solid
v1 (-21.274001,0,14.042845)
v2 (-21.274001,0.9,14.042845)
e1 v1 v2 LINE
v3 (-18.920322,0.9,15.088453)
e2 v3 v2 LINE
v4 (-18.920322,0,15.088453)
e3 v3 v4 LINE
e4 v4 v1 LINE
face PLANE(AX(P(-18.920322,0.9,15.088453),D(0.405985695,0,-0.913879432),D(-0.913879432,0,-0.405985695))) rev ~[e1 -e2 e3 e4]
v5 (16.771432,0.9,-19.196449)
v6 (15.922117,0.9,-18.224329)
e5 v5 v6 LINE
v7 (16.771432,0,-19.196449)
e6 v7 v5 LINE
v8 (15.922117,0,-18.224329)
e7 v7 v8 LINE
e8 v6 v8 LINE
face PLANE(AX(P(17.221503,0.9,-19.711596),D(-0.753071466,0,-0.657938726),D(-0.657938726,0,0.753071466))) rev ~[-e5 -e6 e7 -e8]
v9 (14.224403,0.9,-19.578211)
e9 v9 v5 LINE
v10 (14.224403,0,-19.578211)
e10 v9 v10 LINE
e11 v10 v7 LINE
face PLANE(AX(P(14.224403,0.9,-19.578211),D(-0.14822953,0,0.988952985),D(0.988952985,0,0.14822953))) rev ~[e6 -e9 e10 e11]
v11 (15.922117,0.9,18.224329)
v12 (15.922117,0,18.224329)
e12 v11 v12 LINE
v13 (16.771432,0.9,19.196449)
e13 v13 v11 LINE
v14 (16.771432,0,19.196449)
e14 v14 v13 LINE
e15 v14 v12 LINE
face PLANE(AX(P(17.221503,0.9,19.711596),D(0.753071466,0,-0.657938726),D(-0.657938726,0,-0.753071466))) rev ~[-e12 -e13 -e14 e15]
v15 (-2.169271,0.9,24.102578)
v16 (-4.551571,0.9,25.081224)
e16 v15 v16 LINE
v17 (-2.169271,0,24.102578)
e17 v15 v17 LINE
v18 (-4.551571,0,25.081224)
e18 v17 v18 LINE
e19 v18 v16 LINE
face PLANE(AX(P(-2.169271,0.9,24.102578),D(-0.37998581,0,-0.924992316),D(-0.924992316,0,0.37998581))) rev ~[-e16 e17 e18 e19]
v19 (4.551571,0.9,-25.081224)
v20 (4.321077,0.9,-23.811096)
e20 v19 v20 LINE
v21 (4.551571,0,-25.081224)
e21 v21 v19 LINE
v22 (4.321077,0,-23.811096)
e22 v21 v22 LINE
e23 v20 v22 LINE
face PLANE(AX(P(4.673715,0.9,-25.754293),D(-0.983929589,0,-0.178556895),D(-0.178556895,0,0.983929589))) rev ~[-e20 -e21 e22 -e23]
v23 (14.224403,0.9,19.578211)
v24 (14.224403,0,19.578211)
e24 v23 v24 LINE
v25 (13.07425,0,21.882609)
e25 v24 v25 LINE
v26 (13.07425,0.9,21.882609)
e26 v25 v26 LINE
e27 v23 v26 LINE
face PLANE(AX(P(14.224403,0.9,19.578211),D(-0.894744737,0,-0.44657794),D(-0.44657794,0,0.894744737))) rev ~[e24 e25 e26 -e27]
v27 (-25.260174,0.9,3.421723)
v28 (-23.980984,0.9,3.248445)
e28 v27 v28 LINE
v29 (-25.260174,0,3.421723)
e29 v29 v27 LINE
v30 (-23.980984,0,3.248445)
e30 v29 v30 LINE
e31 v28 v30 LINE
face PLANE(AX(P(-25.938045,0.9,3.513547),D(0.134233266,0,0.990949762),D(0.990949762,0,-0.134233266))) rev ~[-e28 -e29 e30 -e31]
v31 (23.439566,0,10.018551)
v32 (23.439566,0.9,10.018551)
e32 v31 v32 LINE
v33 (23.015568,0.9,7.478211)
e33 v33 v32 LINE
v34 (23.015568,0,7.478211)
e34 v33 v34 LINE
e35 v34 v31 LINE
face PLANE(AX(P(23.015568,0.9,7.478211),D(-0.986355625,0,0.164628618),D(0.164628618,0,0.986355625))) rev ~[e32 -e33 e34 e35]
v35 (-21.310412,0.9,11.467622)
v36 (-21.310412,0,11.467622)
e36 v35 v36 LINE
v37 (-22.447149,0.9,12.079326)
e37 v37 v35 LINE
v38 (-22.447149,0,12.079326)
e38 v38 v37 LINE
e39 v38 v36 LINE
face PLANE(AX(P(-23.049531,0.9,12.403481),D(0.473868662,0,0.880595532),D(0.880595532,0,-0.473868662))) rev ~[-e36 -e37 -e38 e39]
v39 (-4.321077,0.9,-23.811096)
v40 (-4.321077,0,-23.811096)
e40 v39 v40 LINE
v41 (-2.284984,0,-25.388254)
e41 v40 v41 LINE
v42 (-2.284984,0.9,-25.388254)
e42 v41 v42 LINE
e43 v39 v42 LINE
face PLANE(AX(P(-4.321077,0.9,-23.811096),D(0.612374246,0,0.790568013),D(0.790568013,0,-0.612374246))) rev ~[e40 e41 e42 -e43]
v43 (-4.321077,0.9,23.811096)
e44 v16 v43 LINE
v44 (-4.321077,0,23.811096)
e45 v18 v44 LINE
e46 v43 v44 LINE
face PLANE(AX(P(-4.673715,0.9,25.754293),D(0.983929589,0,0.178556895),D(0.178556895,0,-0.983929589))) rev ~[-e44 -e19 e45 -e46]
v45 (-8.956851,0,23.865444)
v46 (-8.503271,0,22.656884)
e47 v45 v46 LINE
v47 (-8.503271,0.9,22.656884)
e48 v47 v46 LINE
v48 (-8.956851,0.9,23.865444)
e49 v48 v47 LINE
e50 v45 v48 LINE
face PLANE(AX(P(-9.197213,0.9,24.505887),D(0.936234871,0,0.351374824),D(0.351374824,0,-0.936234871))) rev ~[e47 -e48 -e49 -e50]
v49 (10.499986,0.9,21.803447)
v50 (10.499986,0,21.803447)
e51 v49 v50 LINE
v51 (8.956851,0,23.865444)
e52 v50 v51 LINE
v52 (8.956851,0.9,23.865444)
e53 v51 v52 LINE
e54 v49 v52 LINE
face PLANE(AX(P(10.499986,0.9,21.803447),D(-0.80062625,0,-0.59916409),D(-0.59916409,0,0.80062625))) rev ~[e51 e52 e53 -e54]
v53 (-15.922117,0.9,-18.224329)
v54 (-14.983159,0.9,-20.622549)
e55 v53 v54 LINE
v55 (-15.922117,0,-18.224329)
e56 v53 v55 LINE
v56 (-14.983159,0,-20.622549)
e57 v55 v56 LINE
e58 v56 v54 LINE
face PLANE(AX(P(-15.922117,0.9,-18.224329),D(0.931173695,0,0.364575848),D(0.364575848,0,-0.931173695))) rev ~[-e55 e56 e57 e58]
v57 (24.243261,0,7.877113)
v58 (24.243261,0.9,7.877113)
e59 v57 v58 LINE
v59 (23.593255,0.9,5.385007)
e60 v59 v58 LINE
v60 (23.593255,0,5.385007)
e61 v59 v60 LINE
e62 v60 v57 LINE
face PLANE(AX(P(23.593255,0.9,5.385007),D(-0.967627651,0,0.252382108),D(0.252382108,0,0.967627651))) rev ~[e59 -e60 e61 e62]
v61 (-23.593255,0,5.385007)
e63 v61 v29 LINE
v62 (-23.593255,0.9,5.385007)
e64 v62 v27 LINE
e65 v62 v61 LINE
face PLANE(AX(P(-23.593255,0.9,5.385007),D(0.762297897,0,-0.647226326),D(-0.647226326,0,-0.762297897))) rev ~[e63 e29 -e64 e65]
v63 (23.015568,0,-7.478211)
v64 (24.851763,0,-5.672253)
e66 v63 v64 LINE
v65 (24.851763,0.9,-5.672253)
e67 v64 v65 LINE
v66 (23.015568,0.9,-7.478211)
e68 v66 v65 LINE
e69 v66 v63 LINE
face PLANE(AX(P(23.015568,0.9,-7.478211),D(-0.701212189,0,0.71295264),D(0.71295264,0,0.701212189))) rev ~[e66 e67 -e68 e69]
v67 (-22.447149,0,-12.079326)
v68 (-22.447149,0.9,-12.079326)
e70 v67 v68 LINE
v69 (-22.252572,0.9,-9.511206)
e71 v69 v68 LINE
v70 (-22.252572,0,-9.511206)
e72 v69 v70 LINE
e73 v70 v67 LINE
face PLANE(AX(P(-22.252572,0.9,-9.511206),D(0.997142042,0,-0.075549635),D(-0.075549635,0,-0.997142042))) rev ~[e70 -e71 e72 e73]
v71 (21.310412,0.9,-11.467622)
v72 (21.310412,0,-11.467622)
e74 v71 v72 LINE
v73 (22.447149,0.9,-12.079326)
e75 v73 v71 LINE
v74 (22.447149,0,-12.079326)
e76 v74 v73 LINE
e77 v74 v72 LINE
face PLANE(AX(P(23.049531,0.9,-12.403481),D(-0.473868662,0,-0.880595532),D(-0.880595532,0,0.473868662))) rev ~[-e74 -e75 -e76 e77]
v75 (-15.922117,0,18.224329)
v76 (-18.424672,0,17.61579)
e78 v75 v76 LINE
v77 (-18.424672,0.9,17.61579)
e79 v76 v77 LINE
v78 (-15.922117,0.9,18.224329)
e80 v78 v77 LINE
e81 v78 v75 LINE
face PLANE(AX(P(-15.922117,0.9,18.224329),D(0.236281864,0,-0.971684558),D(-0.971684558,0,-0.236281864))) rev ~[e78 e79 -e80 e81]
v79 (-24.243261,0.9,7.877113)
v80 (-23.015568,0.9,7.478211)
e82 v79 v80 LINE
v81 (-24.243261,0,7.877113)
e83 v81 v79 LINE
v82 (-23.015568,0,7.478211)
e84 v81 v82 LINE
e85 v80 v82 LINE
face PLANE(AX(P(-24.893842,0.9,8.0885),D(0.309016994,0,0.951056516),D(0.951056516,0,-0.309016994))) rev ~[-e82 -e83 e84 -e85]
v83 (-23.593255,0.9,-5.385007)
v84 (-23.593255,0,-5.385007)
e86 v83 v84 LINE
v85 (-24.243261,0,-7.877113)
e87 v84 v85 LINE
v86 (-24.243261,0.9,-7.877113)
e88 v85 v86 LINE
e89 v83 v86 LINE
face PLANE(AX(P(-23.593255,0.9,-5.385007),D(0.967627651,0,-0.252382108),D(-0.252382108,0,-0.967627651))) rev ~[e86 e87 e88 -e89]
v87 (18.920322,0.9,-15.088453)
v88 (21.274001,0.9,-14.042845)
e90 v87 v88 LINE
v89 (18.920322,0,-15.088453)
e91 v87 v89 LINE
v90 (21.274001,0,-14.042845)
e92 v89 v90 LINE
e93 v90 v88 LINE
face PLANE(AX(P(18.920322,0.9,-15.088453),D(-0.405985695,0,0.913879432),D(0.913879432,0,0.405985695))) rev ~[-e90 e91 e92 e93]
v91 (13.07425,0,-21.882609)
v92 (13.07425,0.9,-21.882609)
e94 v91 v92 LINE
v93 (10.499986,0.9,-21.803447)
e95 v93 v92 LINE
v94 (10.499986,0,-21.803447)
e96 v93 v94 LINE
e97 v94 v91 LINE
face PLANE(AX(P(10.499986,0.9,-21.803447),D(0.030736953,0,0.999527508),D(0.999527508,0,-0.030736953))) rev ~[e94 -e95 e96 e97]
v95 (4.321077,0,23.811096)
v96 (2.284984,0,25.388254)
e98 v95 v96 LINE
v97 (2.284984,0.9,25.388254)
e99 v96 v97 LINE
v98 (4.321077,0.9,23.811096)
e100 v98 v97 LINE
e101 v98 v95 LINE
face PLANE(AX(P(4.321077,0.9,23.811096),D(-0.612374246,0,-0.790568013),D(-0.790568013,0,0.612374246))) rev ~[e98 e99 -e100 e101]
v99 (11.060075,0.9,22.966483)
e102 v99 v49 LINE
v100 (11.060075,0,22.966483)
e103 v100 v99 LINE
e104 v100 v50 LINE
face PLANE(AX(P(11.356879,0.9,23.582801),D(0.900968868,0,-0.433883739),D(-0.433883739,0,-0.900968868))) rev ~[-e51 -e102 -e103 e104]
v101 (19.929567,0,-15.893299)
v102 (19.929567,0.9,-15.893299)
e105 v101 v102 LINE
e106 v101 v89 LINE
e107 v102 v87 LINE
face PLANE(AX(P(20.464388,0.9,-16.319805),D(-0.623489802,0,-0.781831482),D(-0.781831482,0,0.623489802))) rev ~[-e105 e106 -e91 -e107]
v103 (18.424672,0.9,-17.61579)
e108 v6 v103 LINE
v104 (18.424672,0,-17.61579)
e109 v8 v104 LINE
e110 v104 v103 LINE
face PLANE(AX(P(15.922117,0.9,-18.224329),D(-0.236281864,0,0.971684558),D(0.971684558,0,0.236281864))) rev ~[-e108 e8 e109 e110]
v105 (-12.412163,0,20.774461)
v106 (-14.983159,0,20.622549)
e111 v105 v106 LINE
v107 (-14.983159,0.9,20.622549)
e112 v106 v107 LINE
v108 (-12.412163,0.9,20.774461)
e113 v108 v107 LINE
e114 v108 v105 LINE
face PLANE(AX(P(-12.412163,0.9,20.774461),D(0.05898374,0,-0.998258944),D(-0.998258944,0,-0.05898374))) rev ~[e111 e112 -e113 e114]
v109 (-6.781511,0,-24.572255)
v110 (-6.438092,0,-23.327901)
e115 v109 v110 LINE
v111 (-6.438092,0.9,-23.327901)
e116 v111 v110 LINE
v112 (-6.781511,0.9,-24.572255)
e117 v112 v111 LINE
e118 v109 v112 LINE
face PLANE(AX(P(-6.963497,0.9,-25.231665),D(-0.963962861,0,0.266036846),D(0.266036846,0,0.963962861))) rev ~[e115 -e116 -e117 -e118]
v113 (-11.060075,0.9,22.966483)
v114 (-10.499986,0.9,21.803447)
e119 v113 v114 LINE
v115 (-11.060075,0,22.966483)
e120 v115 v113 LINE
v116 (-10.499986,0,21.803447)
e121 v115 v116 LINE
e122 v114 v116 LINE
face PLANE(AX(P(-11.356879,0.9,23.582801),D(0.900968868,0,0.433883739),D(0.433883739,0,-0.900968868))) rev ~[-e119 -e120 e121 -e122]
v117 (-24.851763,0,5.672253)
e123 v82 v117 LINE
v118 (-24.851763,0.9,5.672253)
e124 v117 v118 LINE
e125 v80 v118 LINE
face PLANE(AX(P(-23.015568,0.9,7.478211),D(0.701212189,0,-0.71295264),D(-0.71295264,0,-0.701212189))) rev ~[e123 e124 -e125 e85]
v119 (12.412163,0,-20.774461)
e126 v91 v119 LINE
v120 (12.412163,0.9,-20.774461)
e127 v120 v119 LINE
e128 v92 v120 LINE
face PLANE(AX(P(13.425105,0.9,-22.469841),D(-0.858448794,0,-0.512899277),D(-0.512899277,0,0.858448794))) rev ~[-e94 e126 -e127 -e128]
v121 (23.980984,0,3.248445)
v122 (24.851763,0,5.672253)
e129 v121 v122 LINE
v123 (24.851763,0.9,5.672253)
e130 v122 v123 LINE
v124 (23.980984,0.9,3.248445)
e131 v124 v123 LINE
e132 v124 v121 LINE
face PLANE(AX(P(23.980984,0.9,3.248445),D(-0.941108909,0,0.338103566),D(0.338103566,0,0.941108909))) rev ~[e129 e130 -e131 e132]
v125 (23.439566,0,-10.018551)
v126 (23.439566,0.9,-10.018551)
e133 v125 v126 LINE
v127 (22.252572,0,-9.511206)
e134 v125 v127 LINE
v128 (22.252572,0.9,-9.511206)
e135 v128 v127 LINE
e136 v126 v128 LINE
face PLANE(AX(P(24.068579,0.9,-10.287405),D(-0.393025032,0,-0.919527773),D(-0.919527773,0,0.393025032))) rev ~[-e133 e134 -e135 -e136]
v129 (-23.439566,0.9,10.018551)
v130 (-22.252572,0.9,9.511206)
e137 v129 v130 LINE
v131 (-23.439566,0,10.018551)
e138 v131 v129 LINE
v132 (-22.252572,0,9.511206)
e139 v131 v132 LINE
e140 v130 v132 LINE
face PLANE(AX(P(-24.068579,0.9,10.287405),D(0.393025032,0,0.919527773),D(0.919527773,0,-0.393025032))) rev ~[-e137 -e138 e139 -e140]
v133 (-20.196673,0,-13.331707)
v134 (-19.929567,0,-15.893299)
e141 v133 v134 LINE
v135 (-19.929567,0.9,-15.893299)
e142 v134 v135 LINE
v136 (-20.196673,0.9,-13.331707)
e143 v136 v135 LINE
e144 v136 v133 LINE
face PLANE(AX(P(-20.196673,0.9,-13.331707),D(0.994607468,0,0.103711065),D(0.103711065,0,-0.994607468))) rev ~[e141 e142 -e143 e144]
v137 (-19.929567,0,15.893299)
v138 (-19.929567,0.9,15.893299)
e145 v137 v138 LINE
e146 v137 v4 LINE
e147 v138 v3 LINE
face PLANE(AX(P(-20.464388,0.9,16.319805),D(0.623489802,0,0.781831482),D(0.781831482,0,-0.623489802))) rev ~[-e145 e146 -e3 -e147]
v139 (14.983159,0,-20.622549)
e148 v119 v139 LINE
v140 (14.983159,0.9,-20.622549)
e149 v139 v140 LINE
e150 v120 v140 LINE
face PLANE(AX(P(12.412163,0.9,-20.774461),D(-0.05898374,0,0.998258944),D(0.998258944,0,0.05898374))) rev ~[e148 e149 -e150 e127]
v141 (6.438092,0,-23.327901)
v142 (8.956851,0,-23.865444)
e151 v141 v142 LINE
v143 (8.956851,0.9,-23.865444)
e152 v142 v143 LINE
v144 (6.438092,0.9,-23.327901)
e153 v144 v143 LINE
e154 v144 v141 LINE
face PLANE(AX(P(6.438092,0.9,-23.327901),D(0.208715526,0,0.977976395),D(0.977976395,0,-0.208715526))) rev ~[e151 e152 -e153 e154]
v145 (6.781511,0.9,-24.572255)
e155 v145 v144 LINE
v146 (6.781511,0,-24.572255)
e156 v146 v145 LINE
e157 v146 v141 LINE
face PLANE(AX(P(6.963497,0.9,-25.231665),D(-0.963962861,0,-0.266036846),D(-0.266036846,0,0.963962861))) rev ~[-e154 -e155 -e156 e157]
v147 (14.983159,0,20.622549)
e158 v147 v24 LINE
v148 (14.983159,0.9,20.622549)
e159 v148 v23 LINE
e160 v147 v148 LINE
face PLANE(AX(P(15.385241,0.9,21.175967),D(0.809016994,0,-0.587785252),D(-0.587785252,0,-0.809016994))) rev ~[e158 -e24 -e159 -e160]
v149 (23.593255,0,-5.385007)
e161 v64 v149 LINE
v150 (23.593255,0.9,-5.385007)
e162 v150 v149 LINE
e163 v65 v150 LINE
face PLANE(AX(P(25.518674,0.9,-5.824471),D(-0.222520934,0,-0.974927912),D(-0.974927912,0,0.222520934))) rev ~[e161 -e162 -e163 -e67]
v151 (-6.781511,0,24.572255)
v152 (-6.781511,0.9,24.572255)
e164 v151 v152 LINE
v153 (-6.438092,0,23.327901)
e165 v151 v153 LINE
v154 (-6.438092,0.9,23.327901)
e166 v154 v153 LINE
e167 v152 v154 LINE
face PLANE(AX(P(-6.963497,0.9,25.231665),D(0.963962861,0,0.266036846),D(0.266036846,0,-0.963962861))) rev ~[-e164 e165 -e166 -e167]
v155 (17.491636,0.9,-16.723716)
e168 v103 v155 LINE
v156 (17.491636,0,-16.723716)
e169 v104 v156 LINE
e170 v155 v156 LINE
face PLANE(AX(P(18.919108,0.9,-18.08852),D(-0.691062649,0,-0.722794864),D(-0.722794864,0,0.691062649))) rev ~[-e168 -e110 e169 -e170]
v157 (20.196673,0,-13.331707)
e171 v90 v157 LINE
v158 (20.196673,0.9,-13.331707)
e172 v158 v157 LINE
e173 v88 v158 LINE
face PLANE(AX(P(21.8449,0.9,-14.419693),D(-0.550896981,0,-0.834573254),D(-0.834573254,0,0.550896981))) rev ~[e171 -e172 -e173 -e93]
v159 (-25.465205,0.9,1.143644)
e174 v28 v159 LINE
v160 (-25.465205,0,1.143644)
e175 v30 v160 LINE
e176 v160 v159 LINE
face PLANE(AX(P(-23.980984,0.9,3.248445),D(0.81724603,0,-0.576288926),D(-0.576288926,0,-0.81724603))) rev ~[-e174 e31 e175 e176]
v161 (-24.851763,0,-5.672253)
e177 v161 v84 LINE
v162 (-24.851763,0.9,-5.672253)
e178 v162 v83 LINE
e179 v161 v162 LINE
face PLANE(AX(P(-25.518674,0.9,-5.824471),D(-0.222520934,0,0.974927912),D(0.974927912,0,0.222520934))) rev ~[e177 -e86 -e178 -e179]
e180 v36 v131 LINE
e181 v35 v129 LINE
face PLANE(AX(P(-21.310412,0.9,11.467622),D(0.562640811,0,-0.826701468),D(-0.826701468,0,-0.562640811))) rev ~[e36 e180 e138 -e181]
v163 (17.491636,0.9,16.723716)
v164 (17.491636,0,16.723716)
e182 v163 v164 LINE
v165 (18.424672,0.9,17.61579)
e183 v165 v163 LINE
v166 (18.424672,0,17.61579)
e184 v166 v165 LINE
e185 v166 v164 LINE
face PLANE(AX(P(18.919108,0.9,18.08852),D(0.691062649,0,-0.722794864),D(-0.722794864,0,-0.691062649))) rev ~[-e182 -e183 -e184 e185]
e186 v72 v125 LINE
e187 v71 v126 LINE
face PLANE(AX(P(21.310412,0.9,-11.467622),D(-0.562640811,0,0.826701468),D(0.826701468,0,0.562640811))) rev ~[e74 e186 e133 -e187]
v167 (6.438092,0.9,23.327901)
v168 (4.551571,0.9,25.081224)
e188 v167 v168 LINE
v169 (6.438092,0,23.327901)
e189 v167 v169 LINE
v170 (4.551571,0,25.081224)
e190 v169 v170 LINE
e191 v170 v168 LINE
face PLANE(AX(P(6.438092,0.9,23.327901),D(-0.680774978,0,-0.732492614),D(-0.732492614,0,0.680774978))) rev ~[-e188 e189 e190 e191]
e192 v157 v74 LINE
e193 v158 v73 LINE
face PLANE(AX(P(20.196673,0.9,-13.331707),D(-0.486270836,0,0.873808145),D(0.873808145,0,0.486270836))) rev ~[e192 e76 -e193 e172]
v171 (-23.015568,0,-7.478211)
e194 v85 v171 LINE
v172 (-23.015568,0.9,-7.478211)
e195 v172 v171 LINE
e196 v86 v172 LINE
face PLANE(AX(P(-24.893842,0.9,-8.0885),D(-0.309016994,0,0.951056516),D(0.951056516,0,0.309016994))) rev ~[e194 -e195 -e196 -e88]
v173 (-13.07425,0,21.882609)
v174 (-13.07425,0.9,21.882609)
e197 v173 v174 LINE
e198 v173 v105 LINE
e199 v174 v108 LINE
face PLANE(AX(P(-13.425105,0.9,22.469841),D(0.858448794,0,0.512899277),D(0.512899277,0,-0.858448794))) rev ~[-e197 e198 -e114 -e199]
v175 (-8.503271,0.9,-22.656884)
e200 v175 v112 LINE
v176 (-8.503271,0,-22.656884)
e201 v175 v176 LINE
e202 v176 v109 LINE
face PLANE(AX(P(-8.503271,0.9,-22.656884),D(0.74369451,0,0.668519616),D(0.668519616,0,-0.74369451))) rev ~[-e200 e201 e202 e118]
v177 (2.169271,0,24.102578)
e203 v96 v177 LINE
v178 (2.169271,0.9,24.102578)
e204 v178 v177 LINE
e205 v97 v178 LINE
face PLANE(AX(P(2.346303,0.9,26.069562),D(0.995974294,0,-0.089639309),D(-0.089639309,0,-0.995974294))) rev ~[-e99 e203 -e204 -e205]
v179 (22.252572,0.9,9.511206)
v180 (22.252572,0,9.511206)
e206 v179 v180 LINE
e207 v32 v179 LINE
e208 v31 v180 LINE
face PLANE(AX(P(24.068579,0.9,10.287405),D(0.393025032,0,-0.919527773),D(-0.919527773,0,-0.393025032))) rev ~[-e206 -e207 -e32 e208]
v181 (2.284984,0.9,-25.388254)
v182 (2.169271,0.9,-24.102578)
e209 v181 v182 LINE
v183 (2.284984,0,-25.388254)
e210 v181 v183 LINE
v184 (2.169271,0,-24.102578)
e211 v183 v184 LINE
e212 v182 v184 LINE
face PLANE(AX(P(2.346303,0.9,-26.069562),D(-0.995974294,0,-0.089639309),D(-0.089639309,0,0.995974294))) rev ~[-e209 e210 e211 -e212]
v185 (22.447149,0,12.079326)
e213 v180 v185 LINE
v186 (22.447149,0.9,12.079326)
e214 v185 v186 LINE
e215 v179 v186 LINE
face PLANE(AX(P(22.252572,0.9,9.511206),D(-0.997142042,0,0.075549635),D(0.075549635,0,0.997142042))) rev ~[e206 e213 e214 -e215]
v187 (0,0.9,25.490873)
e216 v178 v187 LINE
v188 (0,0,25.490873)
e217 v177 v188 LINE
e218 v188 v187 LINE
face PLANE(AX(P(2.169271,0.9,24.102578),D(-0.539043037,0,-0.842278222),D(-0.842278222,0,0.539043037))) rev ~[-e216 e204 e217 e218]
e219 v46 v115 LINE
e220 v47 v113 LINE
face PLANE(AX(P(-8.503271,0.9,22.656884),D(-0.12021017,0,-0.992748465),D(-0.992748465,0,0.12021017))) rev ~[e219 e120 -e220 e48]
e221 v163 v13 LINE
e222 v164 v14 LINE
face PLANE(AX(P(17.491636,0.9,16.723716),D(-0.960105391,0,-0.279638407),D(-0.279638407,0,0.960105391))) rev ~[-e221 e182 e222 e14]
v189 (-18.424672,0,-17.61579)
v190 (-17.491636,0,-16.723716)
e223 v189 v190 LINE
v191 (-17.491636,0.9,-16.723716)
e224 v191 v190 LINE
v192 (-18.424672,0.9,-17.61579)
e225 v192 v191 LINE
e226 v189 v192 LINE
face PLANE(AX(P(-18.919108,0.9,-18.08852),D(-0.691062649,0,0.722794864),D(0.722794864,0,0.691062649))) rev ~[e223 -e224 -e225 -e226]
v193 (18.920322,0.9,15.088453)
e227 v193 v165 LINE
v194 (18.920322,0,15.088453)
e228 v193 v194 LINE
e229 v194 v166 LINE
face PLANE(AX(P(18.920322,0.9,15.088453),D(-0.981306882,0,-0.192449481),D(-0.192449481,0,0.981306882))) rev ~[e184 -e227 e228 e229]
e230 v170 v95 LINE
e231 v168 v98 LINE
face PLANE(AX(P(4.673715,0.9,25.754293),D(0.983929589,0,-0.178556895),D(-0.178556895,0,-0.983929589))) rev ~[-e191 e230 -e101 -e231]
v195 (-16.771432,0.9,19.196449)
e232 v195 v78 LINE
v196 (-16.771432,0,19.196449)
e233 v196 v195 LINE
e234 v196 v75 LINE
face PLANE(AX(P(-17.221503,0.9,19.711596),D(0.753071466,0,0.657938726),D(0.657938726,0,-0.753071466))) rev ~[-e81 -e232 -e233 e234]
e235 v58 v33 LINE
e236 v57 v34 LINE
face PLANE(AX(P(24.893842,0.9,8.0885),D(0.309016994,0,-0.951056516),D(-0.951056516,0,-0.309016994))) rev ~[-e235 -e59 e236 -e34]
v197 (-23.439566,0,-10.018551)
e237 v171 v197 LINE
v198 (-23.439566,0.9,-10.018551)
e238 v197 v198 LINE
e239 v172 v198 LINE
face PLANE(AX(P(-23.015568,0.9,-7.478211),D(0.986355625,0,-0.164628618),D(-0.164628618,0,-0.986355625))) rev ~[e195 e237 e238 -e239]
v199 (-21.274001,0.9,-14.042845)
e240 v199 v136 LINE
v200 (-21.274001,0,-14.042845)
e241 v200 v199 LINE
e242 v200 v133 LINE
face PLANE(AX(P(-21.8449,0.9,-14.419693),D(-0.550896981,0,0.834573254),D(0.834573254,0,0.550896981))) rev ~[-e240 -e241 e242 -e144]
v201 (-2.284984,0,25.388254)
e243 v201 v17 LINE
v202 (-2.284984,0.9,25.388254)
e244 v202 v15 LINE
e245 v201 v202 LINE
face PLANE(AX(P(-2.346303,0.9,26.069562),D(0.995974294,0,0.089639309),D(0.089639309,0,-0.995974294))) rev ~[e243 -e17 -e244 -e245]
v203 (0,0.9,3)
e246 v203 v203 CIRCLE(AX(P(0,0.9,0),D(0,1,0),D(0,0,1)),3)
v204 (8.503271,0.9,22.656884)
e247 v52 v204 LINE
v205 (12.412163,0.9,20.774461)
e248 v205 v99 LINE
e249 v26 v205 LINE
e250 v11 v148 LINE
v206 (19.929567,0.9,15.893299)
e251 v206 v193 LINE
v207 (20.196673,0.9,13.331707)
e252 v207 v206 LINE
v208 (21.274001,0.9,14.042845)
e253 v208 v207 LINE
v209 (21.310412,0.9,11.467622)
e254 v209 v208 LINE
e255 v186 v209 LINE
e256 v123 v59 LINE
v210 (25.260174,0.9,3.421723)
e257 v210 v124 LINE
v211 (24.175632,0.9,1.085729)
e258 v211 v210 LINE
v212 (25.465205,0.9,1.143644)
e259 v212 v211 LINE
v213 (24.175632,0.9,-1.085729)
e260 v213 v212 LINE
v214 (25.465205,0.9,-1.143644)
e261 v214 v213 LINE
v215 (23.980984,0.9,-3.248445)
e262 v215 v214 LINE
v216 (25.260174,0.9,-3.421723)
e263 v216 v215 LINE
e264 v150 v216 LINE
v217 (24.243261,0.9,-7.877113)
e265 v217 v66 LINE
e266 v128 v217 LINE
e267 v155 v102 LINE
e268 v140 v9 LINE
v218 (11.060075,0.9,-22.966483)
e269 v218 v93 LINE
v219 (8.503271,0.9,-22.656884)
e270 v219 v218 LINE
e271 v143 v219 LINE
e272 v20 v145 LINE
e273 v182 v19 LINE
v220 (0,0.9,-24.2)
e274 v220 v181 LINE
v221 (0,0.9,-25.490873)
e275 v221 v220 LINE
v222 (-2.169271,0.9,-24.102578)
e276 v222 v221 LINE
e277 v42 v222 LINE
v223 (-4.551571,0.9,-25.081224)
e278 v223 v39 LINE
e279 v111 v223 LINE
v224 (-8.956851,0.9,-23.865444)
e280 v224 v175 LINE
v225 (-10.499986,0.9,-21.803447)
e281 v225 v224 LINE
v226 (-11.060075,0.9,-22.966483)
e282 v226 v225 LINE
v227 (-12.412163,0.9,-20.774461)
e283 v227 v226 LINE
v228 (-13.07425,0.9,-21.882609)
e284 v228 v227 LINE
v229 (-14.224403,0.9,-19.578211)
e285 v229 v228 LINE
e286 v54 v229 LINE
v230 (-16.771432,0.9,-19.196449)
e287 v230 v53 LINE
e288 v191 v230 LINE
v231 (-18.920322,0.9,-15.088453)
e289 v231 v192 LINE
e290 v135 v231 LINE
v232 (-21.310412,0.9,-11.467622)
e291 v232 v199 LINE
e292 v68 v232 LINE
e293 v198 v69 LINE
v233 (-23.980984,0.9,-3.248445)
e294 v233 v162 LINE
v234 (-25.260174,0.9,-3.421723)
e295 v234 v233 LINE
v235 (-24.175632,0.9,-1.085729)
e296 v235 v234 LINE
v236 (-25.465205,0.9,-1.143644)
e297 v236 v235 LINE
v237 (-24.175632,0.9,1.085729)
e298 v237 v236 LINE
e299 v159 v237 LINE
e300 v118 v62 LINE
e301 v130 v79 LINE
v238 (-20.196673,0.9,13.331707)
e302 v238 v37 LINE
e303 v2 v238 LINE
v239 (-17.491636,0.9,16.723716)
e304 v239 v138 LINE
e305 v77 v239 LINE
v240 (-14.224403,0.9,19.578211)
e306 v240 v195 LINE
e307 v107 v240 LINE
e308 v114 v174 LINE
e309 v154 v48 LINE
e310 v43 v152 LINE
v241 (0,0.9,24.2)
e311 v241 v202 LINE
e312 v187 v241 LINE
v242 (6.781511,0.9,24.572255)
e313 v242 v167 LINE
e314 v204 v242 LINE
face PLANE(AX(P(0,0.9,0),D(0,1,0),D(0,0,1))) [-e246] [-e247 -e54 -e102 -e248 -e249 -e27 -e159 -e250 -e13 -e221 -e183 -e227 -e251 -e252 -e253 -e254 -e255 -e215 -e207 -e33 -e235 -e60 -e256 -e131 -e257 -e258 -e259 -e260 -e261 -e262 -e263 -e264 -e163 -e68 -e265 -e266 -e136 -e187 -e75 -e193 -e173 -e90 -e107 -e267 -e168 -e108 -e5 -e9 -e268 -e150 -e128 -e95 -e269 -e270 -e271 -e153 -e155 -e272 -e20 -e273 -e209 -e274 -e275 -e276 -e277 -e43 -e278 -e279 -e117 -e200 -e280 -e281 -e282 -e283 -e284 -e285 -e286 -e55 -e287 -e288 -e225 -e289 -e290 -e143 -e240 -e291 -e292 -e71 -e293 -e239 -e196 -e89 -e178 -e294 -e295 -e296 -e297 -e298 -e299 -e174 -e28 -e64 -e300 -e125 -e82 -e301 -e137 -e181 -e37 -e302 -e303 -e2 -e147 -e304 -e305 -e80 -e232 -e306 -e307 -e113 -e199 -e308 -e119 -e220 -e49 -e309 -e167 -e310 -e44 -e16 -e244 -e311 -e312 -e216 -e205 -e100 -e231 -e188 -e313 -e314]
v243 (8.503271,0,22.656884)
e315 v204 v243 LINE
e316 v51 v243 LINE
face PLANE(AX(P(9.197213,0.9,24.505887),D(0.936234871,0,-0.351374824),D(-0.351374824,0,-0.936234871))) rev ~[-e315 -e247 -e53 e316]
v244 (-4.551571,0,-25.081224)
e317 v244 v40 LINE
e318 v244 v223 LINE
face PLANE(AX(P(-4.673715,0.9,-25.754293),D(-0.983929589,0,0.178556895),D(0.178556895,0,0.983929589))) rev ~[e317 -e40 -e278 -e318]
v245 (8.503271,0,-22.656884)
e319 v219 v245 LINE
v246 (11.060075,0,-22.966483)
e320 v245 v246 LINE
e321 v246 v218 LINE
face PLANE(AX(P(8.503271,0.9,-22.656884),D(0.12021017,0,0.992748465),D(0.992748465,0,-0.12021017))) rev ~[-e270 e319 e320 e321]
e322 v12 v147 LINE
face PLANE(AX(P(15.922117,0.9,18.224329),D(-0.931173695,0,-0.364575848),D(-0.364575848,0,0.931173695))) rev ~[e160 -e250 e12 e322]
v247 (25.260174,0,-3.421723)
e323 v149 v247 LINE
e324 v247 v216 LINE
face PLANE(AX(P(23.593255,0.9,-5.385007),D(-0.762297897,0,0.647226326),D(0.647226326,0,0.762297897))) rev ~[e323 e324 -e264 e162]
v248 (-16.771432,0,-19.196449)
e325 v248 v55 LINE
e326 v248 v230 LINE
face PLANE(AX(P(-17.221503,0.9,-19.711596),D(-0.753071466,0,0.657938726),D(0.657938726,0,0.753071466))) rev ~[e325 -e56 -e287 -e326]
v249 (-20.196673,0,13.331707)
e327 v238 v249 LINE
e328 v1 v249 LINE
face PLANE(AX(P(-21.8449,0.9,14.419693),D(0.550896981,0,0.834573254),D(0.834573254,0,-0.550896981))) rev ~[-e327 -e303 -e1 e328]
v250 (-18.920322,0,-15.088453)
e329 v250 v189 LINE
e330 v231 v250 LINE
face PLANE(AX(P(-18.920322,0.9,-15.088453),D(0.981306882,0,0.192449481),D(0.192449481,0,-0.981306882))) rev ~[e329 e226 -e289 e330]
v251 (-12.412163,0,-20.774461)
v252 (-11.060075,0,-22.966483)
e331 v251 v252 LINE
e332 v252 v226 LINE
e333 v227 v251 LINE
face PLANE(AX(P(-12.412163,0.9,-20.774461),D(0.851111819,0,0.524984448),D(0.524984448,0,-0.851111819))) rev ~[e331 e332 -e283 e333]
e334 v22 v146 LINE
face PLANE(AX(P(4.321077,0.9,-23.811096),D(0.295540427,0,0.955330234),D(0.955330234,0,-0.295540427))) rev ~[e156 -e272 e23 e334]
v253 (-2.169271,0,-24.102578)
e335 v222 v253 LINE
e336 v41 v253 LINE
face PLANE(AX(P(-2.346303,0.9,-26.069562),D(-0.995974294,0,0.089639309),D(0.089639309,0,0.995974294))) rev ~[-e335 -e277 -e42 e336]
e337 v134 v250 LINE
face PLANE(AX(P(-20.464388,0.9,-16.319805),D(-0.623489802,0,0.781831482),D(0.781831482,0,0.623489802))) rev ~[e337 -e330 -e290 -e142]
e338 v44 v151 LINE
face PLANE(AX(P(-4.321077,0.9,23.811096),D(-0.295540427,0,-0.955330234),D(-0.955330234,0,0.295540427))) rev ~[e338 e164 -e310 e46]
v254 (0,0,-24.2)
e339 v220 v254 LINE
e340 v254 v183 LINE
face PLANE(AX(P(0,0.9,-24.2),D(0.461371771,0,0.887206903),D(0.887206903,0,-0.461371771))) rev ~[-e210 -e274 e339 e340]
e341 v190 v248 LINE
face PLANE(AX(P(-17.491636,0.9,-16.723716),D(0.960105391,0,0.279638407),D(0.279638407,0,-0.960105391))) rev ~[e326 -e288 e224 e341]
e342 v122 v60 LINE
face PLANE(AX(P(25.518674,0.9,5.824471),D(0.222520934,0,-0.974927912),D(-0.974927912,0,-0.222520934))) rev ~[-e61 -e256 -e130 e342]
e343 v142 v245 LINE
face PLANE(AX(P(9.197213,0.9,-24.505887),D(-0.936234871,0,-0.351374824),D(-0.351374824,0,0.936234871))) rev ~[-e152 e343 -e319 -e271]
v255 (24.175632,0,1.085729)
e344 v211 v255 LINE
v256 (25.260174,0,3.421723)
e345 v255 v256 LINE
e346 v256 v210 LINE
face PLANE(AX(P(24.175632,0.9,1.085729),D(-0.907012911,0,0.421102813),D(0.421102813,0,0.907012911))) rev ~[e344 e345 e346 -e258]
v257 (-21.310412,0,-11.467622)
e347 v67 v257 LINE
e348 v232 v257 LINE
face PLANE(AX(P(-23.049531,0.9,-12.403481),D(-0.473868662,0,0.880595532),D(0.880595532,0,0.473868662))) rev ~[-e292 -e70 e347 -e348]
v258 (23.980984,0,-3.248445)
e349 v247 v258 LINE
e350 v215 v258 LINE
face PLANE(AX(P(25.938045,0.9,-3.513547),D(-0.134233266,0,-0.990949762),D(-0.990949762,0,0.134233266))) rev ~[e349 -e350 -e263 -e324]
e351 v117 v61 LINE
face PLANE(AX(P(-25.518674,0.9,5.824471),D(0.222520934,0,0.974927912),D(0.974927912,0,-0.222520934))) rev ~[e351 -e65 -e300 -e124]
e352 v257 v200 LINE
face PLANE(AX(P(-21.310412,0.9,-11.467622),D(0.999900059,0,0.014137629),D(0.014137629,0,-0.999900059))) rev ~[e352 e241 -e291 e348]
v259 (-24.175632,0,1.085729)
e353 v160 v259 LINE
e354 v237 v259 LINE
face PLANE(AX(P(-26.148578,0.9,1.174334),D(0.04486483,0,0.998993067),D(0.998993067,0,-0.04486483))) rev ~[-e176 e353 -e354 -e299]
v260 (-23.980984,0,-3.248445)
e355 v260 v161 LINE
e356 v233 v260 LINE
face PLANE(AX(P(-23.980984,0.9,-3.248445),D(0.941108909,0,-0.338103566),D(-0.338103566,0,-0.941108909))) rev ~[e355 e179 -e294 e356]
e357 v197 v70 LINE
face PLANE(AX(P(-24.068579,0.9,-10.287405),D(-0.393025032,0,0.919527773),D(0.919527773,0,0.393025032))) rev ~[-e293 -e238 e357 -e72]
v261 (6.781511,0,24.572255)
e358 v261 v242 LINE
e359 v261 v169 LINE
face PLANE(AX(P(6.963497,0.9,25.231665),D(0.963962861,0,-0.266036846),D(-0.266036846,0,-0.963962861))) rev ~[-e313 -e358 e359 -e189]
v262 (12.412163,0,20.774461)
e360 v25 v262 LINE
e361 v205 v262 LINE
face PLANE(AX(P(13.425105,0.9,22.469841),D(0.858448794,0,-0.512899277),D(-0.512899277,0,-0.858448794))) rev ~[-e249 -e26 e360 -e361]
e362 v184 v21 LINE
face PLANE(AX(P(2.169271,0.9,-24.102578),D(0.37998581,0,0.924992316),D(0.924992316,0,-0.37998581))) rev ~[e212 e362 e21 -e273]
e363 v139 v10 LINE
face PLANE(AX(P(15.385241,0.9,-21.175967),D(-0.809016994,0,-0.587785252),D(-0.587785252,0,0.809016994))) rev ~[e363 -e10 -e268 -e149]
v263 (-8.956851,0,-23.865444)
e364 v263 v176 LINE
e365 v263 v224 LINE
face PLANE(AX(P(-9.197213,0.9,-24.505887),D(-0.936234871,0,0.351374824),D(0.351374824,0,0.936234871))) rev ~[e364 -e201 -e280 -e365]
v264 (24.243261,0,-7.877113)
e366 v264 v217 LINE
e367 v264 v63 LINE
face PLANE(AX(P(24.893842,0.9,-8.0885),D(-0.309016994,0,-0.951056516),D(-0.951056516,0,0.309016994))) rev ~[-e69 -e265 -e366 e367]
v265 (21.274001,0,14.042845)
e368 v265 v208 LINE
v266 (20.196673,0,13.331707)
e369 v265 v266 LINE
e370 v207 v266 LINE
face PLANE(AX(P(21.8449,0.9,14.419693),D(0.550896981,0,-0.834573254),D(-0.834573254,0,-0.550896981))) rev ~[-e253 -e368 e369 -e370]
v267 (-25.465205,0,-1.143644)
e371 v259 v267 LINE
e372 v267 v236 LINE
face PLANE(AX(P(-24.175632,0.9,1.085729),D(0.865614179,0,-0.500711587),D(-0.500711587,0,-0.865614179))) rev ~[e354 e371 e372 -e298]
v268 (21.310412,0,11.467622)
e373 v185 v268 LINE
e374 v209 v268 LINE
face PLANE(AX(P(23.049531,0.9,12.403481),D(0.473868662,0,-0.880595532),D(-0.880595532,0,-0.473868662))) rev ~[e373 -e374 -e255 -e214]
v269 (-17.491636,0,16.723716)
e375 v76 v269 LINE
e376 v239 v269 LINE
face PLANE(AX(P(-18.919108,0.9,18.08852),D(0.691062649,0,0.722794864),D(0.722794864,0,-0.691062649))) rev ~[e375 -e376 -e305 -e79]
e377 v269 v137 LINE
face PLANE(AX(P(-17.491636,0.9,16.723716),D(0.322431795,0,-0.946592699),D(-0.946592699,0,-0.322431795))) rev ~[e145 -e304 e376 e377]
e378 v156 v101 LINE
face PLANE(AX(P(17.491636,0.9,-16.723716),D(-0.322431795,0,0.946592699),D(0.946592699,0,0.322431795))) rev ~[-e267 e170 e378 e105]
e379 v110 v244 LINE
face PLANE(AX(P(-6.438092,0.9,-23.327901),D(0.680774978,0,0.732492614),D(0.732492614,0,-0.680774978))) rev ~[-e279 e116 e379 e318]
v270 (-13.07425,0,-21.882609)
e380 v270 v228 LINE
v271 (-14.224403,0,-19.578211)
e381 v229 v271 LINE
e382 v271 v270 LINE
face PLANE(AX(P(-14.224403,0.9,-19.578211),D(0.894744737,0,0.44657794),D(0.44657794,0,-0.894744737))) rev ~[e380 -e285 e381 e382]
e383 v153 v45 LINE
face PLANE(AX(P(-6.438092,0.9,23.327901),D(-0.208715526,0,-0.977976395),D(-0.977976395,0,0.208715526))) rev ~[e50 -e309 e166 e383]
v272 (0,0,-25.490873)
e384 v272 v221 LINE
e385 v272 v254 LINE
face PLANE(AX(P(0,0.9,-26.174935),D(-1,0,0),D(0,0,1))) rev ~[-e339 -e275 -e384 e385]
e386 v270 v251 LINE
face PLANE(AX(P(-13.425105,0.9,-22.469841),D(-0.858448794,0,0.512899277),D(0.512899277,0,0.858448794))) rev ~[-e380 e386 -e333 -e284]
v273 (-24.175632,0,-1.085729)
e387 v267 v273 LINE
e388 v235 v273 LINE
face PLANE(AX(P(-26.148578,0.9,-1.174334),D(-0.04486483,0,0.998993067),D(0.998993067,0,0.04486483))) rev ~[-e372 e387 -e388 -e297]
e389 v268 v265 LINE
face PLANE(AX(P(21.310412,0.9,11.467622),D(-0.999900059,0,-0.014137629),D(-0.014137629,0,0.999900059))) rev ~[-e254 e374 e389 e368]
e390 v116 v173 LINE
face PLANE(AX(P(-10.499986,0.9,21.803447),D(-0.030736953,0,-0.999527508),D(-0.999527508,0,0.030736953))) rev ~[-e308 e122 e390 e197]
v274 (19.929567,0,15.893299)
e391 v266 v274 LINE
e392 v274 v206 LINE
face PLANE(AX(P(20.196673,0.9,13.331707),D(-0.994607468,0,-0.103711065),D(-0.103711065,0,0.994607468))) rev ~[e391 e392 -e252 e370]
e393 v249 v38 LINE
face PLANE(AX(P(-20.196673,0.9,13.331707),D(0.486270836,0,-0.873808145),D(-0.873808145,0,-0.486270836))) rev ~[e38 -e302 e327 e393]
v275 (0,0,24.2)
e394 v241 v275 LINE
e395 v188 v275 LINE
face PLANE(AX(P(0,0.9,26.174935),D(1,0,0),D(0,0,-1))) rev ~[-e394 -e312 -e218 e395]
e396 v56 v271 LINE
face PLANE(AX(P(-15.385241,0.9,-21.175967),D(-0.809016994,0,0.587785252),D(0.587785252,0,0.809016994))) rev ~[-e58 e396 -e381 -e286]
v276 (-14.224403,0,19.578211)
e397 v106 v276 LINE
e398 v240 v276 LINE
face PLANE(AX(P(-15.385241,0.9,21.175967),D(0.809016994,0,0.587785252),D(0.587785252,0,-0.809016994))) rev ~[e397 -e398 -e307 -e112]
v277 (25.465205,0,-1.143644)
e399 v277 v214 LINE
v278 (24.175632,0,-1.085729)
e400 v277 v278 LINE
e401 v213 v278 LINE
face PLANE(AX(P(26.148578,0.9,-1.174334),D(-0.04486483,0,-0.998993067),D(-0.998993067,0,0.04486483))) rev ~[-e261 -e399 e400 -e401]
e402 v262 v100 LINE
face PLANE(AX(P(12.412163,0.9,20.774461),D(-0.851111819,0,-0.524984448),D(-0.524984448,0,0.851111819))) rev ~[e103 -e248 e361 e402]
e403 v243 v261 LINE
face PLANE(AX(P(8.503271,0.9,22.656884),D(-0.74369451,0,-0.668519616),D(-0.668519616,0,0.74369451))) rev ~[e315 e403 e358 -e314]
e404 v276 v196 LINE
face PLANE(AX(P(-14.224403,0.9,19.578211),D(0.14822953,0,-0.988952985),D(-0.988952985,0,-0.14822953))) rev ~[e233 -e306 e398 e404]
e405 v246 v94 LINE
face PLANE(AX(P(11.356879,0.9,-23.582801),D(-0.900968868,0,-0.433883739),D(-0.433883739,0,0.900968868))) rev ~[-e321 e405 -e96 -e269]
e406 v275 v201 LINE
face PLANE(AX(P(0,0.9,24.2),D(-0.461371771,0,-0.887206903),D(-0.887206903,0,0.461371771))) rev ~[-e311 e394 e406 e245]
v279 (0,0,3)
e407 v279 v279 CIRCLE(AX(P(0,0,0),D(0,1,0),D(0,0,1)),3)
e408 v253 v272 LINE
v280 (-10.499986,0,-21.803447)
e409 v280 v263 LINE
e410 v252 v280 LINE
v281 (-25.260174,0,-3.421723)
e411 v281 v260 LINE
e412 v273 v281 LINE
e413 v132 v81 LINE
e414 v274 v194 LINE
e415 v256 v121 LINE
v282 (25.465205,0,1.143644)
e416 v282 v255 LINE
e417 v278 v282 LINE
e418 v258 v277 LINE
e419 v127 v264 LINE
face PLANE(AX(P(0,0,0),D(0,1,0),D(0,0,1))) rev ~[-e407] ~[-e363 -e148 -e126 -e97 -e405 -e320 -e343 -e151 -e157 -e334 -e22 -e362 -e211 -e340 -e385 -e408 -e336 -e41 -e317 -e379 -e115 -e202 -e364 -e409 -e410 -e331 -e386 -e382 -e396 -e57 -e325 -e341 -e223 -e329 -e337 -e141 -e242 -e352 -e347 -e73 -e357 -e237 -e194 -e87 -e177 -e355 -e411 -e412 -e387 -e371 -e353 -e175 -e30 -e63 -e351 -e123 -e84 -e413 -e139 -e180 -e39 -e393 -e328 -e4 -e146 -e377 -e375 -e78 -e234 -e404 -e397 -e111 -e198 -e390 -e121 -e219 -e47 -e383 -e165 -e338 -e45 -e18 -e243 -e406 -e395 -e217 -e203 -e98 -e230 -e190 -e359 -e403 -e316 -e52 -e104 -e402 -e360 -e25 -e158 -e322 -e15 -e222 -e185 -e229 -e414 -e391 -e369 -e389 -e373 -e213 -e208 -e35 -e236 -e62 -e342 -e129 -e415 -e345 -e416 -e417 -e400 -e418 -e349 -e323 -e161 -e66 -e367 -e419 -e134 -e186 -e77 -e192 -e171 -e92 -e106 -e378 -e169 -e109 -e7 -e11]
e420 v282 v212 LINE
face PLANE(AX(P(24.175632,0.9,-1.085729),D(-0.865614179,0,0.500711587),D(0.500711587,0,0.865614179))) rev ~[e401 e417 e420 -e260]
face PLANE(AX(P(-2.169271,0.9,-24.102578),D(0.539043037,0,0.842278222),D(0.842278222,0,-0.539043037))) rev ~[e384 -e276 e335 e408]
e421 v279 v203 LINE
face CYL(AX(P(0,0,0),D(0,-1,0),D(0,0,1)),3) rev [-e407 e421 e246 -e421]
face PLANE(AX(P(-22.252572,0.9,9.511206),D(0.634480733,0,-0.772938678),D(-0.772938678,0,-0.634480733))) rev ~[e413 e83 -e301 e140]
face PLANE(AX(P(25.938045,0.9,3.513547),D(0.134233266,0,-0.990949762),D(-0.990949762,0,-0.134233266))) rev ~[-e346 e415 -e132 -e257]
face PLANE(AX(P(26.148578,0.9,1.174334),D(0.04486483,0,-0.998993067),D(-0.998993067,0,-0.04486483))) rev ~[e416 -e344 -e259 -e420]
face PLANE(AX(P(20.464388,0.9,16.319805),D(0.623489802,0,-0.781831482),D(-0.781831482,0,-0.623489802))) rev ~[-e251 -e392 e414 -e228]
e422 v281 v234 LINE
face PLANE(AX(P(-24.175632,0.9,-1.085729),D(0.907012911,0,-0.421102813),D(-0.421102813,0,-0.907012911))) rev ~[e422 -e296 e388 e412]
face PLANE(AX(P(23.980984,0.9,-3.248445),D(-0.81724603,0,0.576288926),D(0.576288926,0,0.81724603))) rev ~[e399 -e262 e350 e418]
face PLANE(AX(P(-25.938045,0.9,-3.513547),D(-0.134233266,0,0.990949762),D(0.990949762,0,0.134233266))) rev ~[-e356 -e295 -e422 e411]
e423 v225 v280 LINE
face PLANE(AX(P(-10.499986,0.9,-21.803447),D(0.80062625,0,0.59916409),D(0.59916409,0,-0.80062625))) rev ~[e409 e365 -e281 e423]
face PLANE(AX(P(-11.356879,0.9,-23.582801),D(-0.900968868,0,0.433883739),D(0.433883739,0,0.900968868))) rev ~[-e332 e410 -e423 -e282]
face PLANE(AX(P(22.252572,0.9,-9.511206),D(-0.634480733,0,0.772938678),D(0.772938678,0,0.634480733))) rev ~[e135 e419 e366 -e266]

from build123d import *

# Parameters (mm, degrees)
SKETCH_1_R               = 25.5
SKETCH_1_R_2             = 3
EXTRUDE_1_DEPTH          = 0.9
CUT_EXTRUDE_2_DEPTH      = 0.9
PATTERN_CIRCULAR_1_COUNT = 70


with BuildPart() as part:
    # 스케치1 → 보스-돌출1 (new body)
    with BuildSketch(Plane(origin=(0, 0, 0), x_dir=(1, 0, 0), z_dir=(0, 1, 0))):
        with Locations(Location((0, 0, 0), (0, 0, 270))):
            Circle(SKETCH_1_R)
        with Locations(Location((0, 0, 0), (0, 0, 270))):
            Circle(SKETCH_1_R_2, mode=Mode.SUBTRACT)
    extrude(amount=EXTRUDE_1_DEPTH)

    # 스케치3 → 컷-돌출2 (cut)
    with BuildSketch(Plane(origin=(0, 0.9, 0), x_dir=(1, 0, 0), z_dir=(0, 1, 0))):
        Polygon((0, 25.5), (0, 24.2), (3.797752252, 26.174934679), (0, 26.174934679), align=None)
    cut_extrude_2 = extrude(amount=-CUT_EXTRUDE_2_DEPTH, mode=Mode.SUBTRACT)

    # 원형 패턴1: 컷-돌출2 ×70 about axis
    pattern_circular_1_axis = Axis((0, 0, 0), (0, 1, 0))
    for i in range(1, PATTERN_CIRCULAR_1_COUNT):
        add(cut_extrude_2.rotate(pattern_circular_1_axis, i * 360 / PATTERN_CIRCULAR_1_COUNT), mode=Mode.SUBTRACT)


solid = part.part
